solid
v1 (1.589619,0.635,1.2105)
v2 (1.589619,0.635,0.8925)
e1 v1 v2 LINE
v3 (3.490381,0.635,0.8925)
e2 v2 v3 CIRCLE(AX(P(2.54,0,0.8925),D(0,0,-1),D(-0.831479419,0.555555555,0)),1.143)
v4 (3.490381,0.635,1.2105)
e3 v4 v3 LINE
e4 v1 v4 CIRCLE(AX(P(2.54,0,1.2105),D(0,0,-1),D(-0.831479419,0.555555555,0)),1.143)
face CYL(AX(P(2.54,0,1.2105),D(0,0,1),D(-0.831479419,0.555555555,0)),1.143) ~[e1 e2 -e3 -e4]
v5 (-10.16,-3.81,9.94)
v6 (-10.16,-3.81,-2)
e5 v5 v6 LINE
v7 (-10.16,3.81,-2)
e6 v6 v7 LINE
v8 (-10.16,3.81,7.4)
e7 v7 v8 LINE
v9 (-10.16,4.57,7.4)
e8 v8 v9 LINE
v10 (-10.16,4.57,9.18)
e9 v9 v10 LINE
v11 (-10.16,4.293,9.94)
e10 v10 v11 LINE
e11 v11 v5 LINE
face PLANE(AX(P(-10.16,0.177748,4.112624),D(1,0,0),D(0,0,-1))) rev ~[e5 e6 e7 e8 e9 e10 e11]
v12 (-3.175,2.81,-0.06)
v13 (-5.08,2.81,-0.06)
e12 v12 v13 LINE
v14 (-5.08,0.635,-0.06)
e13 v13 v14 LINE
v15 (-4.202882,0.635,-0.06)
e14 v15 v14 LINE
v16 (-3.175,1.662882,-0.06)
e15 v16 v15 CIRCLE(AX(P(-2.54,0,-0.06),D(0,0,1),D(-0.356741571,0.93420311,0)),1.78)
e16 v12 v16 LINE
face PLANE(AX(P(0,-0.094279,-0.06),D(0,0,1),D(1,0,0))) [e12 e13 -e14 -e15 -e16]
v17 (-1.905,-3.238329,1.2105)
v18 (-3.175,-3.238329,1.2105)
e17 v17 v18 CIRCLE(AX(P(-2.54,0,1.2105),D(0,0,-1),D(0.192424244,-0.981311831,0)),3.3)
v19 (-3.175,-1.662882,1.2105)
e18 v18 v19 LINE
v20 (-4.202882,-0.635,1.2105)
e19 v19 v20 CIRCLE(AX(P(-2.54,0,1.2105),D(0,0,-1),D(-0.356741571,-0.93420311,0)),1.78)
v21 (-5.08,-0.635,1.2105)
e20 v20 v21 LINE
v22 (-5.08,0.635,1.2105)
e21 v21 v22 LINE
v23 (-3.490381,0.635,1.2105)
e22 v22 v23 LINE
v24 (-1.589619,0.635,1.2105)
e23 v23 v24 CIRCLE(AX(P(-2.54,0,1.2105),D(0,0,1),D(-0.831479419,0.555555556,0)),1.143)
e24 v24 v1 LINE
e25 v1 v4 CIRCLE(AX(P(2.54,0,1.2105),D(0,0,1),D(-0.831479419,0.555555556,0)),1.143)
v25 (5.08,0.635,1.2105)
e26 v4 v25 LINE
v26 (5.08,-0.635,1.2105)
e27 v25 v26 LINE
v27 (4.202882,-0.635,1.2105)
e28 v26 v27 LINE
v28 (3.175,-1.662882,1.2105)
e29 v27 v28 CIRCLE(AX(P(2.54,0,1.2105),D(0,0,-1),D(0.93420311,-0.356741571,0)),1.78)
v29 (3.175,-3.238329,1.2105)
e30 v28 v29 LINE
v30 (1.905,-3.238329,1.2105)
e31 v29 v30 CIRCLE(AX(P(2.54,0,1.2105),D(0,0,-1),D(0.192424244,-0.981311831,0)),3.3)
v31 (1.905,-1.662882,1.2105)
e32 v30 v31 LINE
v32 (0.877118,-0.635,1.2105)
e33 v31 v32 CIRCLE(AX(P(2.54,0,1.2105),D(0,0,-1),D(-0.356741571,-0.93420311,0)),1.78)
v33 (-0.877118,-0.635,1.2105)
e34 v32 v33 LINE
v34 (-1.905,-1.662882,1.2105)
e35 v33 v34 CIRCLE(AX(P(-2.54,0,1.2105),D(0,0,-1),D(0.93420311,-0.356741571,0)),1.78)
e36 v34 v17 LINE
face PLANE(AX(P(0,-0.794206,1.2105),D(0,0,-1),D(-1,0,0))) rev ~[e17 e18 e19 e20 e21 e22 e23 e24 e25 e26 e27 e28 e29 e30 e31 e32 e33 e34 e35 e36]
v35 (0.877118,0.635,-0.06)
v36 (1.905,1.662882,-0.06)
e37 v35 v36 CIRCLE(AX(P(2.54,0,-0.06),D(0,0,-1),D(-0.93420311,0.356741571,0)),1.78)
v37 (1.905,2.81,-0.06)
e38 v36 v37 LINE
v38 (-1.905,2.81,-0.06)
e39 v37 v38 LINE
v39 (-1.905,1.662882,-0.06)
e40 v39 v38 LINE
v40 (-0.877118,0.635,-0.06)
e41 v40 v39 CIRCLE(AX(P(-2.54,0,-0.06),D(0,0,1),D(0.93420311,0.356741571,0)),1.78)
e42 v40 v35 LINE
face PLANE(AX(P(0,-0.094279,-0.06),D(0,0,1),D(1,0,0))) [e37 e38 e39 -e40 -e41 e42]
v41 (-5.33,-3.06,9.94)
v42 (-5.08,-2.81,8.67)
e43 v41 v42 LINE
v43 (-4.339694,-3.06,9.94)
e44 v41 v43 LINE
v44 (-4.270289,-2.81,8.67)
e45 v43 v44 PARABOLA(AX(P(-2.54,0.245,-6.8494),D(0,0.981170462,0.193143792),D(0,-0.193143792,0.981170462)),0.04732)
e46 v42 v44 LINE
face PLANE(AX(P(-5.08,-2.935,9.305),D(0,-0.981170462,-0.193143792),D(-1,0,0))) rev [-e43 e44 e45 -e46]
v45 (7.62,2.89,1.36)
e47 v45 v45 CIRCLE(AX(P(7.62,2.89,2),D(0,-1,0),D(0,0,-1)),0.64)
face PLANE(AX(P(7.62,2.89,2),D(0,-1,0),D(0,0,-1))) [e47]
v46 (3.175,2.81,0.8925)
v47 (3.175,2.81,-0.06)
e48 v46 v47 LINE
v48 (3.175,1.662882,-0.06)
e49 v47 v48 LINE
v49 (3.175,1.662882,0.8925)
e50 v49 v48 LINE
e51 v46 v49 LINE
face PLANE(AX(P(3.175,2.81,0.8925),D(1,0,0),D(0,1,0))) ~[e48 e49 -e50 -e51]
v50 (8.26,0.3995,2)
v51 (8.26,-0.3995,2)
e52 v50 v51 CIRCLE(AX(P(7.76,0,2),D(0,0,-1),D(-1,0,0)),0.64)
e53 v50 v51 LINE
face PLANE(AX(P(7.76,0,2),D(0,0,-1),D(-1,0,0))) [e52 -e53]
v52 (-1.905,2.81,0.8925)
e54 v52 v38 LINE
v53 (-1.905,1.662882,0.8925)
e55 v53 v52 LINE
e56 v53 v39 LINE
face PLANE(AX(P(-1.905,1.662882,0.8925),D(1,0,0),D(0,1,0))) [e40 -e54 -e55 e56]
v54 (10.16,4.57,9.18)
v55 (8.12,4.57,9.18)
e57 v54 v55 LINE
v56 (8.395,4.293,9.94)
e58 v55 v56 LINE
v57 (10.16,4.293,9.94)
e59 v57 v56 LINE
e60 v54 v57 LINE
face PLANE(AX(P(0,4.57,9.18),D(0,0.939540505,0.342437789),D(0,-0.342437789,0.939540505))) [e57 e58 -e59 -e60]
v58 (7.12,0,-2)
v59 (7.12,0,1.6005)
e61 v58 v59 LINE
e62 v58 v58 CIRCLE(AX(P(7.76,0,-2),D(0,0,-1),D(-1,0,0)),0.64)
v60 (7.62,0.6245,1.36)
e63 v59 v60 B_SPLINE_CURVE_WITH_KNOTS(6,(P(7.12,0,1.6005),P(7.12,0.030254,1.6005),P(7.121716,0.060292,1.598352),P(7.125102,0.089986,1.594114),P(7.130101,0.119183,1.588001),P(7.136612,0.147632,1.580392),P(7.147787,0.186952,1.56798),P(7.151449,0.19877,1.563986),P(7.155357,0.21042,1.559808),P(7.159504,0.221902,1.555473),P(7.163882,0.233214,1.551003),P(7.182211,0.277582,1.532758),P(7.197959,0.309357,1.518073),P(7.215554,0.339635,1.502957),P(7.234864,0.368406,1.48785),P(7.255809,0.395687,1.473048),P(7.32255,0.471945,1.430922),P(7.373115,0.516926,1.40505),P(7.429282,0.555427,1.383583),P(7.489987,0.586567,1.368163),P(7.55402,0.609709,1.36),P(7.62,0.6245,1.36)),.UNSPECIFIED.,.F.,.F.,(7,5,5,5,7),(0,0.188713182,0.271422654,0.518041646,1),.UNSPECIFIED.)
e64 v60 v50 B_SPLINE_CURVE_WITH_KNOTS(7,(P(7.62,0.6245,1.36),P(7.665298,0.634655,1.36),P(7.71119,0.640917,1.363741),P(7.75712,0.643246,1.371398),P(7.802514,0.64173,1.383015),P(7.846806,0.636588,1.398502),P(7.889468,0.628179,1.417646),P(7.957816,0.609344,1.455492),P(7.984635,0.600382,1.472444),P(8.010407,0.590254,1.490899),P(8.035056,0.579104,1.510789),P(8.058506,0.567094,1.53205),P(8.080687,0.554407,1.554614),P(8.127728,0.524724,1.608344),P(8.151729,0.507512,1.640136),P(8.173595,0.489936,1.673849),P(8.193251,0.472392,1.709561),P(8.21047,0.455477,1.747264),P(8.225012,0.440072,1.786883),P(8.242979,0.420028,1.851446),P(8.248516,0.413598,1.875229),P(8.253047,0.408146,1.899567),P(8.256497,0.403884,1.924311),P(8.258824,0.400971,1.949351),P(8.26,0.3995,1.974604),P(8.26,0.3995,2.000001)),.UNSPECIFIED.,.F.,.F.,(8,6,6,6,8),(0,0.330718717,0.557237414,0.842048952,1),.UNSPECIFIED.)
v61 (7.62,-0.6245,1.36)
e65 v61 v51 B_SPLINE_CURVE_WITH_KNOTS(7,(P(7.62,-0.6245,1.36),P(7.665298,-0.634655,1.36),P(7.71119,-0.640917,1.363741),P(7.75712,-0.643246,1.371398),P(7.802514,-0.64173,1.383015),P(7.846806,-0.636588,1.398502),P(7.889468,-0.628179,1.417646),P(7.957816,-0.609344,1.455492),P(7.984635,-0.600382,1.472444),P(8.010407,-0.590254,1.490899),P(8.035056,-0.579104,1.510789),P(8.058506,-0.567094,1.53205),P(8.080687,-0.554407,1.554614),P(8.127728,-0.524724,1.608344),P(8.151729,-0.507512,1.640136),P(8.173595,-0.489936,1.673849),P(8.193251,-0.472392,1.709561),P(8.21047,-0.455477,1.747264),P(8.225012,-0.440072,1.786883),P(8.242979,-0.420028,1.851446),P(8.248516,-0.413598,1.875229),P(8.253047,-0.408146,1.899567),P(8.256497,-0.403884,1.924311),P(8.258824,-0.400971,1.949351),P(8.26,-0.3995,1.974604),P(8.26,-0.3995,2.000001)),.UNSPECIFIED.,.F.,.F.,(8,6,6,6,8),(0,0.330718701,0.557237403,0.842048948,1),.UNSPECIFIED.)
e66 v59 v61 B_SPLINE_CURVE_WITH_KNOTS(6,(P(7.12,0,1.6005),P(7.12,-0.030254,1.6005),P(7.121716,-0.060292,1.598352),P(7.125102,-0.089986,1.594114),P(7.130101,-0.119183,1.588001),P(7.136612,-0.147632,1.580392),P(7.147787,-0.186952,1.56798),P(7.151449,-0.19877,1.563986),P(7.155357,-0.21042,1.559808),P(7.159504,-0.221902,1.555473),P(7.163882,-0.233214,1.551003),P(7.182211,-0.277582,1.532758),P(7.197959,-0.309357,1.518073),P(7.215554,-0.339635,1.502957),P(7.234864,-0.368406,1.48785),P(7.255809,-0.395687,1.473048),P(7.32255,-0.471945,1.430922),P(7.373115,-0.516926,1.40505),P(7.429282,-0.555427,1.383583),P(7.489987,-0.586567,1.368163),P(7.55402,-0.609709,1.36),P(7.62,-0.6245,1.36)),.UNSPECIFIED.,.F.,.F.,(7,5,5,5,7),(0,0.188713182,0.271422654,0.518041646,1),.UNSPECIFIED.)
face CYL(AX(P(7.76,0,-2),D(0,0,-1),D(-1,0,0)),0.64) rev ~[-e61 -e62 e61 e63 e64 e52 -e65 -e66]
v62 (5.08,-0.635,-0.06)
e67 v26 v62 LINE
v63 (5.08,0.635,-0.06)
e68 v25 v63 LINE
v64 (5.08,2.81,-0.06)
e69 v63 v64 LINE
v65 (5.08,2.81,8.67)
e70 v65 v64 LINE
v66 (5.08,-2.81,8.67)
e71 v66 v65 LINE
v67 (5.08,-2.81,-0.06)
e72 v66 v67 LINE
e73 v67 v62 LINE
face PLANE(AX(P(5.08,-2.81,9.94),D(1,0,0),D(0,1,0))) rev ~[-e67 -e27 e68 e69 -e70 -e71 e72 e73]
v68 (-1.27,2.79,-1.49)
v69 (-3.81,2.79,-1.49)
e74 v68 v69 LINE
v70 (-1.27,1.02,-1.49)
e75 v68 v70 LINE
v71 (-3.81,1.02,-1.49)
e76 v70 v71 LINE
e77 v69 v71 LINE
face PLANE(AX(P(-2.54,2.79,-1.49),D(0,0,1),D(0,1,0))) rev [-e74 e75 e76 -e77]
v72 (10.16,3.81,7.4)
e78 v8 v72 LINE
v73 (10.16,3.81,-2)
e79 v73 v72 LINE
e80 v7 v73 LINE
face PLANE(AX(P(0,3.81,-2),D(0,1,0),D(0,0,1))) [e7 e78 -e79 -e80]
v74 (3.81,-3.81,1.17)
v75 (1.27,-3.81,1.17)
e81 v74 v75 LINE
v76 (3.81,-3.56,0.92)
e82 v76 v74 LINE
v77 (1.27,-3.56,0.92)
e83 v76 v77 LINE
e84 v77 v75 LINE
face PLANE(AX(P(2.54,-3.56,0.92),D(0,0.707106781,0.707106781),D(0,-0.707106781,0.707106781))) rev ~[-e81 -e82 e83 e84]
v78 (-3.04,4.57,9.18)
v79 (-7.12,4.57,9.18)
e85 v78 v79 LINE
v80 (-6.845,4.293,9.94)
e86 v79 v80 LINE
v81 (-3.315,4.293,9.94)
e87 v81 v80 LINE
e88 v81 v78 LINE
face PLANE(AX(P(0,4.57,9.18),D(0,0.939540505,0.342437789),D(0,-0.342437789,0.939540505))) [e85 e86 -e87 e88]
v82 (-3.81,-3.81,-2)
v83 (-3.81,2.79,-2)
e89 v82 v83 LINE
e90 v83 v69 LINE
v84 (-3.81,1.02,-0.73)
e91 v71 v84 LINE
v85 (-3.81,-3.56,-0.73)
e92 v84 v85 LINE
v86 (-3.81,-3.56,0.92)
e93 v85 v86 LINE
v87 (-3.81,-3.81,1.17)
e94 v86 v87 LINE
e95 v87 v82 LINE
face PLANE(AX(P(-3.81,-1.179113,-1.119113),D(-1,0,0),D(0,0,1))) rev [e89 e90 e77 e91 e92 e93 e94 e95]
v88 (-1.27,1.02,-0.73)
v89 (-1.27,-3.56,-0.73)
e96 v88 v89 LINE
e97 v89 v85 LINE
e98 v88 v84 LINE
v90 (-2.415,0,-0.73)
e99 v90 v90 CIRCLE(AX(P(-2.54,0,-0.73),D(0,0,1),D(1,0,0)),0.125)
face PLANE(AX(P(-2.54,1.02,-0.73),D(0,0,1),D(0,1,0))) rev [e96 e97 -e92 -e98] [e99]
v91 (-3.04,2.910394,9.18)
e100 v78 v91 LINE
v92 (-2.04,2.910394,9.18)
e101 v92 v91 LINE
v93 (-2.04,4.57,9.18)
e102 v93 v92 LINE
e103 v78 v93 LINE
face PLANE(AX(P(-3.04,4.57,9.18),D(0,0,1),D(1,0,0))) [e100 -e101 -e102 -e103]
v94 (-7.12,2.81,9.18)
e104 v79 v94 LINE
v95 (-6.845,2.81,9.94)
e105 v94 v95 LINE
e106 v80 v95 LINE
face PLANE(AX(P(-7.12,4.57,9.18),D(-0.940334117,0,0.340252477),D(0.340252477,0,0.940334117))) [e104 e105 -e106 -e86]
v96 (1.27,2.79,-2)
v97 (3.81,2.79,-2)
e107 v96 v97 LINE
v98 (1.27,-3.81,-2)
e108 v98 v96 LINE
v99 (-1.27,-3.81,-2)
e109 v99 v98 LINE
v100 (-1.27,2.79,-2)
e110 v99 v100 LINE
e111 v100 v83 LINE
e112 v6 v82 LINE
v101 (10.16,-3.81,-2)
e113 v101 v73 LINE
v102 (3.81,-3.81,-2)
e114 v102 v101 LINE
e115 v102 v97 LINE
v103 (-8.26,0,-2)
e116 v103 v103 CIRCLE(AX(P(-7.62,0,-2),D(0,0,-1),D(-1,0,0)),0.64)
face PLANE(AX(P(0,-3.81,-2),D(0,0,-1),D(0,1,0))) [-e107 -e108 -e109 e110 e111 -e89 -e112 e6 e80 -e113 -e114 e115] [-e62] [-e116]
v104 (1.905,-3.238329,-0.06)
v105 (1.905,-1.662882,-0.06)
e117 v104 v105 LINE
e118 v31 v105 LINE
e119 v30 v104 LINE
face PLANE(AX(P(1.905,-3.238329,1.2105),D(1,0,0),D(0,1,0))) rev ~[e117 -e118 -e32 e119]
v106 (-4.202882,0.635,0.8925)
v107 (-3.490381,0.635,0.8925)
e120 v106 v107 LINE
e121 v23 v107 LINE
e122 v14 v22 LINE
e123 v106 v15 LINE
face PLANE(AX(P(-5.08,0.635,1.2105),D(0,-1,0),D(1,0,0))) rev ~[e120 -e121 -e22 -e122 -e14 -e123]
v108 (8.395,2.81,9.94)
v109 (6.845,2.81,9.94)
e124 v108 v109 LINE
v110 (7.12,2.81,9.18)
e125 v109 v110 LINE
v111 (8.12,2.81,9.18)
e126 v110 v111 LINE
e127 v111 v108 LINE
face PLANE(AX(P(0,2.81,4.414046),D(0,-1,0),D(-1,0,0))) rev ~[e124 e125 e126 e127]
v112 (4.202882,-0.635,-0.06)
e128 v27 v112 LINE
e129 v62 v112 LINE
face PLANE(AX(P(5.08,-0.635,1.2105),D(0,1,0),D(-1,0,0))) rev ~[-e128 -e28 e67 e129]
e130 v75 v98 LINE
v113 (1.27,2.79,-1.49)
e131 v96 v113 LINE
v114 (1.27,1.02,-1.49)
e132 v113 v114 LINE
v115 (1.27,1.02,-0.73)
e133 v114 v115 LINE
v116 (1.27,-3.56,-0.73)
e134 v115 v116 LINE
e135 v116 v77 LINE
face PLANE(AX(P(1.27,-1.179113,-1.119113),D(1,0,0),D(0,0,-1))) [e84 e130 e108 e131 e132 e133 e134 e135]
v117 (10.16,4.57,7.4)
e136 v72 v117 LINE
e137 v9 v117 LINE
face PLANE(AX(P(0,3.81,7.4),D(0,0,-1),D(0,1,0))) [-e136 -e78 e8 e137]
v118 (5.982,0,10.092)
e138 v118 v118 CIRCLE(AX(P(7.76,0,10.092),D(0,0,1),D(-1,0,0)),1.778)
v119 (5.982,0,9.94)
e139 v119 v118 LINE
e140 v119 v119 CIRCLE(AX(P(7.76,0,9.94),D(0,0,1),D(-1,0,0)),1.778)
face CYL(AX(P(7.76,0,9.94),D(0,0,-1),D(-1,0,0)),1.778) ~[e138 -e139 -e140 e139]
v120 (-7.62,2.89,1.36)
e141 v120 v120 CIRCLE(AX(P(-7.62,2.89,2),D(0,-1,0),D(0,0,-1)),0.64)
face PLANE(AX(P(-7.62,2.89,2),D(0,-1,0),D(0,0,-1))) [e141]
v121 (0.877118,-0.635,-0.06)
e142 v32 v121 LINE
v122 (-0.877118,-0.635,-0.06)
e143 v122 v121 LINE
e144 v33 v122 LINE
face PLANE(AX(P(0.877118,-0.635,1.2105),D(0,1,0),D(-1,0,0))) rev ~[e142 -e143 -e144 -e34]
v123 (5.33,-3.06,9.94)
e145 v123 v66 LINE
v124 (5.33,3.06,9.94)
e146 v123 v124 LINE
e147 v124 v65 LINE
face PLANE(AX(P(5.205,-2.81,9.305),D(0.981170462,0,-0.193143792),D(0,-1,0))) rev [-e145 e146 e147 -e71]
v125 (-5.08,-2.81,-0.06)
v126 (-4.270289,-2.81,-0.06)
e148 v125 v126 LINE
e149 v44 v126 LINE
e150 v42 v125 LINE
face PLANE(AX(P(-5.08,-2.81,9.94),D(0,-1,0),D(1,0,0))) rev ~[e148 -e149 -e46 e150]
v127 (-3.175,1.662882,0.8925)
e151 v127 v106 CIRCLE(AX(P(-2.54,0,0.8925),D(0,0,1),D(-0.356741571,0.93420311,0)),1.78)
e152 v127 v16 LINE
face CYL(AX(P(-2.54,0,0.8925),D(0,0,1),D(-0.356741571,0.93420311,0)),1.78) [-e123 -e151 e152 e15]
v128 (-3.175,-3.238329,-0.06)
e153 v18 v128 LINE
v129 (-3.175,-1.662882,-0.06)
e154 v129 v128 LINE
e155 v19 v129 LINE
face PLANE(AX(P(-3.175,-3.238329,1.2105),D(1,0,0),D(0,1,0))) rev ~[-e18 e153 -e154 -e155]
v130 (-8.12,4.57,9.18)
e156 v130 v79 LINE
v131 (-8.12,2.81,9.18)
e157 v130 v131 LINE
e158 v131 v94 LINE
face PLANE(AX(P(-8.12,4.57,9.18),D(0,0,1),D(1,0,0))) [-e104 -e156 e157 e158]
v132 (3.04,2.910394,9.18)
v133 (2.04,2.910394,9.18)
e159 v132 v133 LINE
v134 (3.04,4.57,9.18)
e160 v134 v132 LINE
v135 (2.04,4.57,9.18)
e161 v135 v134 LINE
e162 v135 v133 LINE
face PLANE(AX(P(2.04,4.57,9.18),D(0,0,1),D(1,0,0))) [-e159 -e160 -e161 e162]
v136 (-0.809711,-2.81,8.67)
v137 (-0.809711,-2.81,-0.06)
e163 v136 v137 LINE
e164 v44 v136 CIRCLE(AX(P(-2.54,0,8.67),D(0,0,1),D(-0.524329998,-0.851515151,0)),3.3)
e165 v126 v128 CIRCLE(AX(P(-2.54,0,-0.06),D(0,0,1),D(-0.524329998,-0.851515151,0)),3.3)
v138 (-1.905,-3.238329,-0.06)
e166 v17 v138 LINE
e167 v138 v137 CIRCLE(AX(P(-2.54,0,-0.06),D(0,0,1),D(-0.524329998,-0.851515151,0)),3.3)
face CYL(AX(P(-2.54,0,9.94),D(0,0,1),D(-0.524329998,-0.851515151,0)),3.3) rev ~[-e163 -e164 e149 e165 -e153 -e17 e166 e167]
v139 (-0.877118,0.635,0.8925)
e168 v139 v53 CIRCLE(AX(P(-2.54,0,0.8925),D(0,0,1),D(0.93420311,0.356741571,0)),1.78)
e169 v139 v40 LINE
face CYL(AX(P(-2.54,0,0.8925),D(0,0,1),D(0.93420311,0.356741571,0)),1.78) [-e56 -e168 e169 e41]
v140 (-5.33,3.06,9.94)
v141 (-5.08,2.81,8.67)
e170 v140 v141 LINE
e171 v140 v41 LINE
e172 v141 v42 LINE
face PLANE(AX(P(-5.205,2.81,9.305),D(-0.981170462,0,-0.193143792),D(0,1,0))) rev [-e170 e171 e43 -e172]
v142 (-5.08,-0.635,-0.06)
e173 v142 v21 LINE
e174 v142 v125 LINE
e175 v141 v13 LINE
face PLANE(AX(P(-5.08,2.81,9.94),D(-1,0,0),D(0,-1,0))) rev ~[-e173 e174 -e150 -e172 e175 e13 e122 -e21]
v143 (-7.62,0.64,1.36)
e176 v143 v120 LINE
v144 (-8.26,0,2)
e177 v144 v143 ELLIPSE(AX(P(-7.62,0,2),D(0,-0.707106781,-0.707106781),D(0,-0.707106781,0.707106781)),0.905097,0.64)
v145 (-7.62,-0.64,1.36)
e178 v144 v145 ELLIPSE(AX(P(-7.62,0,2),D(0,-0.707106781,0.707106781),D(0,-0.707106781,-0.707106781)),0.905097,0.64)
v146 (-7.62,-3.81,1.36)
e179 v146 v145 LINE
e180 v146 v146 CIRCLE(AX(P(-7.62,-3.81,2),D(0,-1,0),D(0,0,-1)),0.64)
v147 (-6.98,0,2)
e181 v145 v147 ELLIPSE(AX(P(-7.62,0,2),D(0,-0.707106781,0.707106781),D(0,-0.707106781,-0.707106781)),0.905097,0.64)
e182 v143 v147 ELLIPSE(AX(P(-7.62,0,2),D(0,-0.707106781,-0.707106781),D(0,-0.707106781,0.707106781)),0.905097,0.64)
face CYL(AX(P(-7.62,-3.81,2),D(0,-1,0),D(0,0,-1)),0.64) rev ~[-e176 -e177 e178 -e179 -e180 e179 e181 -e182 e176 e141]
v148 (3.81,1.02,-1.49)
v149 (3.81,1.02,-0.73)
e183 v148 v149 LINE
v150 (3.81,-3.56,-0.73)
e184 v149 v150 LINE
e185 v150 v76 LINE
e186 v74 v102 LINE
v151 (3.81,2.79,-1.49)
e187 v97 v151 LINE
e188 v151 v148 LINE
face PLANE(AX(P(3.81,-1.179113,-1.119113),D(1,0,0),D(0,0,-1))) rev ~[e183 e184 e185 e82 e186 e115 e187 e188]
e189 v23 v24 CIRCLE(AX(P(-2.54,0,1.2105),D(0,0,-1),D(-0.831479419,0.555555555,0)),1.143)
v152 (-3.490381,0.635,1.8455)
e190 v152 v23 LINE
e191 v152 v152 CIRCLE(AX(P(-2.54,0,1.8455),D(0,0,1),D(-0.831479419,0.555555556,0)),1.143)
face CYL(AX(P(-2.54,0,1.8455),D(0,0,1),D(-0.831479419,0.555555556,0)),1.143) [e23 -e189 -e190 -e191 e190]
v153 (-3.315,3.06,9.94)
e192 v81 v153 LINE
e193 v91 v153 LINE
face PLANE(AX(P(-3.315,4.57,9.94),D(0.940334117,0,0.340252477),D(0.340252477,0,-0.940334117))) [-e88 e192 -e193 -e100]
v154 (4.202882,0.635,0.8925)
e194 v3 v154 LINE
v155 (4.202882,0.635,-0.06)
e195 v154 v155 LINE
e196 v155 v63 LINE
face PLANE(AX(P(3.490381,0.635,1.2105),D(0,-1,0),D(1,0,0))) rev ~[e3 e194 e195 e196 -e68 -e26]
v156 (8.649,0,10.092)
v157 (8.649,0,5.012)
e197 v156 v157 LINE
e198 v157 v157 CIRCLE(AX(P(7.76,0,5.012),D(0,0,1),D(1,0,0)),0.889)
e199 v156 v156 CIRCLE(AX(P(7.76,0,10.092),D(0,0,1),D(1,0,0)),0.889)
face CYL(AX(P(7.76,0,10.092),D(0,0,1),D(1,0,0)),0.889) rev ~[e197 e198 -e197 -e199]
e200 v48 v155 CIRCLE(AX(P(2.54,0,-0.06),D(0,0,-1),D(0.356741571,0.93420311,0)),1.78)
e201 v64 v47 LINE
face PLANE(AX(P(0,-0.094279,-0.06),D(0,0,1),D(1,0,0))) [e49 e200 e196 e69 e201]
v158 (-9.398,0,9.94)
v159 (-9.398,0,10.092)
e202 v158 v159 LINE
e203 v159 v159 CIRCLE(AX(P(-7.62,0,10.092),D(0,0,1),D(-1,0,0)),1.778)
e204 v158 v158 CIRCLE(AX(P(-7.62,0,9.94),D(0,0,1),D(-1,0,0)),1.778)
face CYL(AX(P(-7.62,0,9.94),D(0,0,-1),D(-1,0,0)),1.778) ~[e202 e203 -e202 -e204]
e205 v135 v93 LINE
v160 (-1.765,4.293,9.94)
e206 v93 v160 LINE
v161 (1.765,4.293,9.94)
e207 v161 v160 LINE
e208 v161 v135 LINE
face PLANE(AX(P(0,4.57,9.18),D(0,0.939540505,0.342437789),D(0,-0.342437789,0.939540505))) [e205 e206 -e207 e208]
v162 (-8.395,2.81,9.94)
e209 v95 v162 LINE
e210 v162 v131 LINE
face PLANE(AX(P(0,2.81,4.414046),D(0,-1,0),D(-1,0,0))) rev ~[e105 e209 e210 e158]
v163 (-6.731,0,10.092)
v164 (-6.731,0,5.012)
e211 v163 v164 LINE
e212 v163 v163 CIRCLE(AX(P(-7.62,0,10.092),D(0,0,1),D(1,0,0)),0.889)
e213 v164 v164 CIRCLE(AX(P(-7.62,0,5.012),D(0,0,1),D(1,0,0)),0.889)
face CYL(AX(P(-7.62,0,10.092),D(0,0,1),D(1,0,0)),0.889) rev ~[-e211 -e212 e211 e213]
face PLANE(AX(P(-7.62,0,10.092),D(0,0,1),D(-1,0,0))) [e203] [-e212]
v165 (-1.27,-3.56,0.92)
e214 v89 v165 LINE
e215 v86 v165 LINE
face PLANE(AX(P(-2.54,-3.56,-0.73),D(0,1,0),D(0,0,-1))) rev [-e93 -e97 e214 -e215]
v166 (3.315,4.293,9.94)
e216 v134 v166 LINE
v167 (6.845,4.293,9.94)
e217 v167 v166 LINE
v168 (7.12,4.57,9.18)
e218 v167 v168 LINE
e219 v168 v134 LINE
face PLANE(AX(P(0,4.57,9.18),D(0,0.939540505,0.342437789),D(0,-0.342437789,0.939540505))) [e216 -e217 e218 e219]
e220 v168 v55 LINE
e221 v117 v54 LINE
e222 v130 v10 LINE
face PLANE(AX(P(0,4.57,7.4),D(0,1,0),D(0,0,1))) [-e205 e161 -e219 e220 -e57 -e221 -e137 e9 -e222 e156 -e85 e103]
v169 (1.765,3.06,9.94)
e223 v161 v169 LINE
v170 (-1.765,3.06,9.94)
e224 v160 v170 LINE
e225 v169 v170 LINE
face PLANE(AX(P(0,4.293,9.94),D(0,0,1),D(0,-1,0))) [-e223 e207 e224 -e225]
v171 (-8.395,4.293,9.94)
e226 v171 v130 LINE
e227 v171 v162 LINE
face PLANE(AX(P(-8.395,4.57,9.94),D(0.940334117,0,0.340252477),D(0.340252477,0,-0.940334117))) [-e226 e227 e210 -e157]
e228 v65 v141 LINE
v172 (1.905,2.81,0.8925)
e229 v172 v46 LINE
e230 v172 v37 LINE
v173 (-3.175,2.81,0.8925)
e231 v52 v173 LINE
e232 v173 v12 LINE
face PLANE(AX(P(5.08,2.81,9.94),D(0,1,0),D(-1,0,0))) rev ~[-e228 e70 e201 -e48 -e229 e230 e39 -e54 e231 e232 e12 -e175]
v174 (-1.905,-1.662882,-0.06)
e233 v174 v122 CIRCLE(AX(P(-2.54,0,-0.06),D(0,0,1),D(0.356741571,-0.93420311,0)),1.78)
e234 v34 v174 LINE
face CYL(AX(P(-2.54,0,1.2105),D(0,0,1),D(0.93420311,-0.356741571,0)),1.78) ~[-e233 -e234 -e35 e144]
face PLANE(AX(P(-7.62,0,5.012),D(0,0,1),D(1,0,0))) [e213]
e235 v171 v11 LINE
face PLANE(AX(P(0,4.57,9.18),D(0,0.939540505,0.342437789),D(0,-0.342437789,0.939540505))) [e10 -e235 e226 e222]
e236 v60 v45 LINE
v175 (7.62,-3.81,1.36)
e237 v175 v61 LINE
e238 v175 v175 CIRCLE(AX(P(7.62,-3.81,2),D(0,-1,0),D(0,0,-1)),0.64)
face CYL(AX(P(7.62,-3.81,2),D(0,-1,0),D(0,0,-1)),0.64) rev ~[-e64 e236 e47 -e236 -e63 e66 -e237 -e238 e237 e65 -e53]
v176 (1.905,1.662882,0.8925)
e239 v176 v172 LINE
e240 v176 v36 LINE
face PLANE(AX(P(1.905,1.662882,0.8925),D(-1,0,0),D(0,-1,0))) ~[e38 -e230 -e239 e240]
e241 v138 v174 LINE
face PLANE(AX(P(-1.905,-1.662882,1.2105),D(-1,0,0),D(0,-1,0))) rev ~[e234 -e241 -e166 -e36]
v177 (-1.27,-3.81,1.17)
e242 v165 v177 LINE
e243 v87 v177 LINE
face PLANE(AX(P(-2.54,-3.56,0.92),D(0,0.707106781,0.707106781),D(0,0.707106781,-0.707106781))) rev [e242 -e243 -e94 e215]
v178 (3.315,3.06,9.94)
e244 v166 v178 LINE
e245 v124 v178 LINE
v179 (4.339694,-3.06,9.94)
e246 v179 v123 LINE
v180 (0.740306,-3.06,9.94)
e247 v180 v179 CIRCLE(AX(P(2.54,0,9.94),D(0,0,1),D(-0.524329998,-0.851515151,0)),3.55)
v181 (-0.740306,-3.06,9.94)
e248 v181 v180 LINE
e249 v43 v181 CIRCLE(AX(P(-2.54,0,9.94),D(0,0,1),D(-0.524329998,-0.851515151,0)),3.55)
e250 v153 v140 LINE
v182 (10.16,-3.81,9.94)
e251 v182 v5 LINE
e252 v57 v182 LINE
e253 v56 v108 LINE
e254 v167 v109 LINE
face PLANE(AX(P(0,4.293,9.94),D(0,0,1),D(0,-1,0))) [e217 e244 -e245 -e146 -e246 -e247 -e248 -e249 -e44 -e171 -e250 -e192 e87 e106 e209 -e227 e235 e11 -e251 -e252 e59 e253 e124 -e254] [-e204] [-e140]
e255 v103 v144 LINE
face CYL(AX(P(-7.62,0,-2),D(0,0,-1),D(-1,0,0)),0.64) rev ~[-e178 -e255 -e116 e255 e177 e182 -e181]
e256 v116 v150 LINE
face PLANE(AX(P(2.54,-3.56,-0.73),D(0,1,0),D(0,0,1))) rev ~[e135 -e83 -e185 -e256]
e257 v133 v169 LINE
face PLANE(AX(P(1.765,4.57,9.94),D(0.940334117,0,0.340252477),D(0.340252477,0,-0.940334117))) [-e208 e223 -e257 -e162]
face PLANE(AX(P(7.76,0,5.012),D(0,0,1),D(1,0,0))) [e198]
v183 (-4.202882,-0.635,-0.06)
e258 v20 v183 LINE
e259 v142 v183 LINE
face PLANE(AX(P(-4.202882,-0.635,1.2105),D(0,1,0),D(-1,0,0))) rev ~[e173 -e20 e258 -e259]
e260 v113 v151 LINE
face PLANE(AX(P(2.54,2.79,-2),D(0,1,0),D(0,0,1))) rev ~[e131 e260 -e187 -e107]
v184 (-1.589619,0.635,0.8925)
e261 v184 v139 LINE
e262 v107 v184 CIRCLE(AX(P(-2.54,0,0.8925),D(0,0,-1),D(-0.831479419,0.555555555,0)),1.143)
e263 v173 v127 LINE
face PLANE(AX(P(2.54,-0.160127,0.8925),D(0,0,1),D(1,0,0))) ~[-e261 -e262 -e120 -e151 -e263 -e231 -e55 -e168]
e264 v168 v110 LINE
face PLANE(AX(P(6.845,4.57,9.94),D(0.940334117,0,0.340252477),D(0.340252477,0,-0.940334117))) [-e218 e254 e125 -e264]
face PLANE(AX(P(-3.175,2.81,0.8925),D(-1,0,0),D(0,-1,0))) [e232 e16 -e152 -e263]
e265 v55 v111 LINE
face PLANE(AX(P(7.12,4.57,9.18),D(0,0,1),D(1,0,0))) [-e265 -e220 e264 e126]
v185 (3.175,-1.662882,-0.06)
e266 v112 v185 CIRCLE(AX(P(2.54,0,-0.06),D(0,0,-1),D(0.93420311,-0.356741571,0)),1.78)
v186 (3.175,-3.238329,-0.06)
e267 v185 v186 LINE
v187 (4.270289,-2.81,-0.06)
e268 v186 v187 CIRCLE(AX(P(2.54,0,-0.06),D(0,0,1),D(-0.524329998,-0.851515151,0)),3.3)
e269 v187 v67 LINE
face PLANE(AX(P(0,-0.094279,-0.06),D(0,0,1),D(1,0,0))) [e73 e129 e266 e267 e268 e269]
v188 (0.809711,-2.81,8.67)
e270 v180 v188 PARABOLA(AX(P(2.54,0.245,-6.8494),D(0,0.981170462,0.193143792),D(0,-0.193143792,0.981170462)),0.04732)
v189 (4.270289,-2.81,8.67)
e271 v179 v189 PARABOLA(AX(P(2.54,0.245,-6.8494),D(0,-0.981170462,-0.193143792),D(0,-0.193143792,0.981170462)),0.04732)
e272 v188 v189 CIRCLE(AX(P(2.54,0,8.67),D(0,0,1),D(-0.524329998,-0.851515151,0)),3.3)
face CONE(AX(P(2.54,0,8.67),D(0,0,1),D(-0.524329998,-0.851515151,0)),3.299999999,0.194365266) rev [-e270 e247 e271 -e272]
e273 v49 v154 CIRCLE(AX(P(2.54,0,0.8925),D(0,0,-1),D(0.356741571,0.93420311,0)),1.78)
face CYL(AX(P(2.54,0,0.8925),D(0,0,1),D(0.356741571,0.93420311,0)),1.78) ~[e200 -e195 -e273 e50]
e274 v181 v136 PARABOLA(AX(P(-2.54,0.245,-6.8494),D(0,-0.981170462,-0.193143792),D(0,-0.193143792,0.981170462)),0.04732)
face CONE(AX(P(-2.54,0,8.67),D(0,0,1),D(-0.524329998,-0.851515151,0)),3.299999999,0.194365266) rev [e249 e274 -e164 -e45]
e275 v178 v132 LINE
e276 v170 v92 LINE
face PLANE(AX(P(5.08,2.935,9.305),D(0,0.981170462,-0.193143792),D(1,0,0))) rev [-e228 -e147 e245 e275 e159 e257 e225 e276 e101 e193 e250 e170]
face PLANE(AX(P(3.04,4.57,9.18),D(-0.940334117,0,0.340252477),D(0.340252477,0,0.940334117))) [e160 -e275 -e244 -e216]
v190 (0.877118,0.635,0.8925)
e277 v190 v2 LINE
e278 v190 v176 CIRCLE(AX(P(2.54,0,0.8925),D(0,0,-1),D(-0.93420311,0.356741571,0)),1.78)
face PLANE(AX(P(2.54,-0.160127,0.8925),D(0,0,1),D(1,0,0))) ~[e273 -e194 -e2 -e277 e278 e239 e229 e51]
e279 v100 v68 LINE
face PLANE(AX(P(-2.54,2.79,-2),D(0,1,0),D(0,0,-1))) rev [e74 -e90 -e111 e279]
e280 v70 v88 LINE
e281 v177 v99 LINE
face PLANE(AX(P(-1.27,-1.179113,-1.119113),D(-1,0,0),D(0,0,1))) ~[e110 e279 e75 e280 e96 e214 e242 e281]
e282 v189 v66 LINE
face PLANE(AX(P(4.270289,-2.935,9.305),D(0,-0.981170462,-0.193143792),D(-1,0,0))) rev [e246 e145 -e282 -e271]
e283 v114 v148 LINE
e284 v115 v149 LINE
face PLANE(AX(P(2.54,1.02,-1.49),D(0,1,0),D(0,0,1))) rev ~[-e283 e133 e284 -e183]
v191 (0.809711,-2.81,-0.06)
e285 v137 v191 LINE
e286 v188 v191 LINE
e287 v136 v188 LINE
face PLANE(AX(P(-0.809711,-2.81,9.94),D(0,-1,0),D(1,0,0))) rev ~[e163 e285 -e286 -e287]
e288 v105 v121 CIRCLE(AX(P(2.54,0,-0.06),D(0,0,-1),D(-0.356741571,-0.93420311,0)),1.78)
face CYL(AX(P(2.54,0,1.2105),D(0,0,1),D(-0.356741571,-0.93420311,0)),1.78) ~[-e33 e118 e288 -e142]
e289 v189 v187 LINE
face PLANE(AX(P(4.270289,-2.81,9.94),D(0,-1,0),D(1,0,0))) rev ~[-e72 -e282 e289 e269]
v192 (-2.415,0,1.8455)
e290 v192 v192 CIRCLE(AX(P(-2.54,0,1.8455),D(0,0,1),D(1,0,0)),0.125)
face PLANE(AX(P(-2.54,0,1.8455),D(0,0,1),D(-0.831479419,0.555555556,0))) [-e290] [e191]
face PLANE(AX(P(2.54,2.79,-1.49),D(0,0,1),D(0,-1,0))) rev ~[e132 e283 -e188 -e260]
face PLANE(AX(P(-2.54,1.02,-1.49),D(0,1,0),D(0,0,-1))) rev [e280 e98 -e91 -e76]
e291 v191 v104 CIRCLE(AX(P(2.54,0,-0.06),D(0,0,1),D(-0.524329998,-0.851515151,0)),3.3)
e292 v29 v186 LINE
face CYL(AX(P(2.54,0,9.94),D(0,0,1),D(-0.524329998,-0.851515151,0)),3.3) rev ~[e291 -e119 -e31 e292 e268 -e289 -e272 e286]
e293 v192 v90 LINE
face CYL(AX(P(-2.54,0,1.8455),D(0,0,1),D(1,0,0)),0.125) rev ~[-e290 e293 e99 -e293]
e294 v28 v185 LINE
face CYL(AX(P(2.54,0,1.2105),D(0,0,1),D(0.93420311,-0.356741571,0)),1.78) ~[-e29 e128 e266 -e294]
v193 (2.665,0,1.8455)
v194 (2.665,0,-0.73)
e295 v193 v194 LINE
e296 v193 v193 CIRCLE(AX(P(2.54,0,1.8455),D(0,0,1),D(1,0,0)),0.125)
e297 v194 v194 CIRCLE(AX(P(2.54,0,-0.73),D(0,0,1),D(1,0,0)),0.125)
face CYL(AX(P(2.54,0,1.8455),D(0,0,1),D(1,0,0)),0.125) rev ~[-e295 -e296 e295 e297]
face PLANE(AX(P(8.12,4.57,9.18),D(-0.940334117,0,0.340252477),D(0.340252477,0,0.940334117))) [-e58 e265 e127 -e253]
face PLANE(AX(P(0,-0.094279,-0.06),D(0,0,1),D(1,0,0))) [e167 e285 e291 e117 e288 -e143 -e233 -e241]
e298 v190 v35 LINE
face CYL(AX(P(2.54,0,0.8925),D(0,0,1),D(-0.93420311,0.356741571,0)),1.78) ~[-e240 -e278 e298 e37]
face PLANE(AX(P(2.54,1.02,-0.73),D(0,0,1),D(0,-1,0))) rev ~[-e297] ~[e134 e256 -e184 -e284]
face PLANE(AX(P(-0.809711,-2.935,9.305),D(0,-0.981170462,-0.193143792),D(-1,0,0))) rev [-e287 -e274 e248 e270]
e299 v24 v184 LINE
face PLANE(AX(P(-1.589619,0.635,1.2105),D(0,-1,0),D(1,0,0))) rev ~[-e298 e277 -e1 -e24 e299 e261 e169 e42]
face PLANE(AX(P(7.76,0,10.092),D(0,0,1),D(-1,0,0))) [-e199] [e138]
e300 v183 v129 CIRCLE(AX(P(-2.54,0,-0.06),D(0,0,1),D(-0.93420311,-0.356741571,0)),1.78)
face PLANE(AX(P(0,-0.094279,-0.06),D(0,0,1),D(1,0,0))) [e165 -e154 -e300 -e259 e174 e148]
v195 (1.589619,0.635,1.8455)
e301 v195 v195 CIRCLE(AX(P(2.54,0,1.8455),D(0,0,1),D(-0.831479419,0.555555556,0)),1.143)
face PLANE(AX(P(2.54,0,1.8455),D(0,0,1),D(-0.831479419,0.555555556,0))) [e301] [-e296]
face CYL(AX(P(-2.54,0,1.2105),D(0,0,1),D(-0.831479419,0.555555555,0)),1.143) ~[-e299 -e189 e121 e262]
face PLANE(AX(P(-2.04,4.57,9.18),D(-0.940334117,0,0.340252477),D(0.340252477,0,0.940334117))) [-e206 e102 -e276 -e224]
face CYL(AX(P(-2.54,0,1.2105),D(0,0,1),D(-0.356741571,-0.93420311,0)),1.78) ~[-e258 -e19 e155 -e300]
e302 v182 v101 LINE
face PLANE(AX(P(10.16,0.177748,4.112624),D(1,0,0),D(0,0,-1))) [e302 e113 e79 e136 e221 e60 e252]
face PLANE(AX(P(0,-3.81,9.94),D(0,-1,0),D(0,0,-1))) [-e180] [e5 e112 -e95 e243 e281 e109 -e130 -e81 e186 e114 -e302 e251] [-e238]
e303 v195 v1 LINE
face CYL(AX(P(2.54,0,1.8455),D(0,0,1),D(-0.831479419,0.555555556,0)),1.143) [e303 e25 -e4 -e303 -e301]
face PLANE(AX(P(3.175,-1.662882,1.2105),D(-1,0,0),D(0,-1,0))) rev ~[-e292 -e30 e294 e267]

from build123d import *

# Parameters (mm, degrees)
BOSS_EXTRUDE1_DEPTH = 10.16
CUT_EXTRUDE1_DEPTH  = 10
CHAMFER1_SIZE       = 0.25
CHAMFER1_SIZE2      = 1.27
SKETCH3_R           = 1.778
BOSS_EXTRUDE2_DEPTH = 0.152
SKETCH4_R           = 0.889
CUT_EXTRUDE2_DEPTH  = 5.08
BOSS_EXTRUDE3_START = 0.9525
BOSS_EXTRUDE3_DEPTH = 0.9525
BOSS_EXTRUDE4_START = 0.318
BOSS_EXTRUDE4_DEPTH = 0.318
BOSS_EXTRUDE5_START = 0.635
SKETCH9_R           = 1.143
BOSS_EXTRUDE5_DEPTH = 0.635
CUT_EXTRUDE3_REACH  = 18.592
SKETCH11_R          = 0.64
CUT_EXTRUDE4_DEPTH  = 6.7
SKETCH12_R          = 0.64
CUT_EXTRUDE6_DEPTH  = 4
CUT_EXTRUDE7_DEPTH  = 1.27
SKETCH15_R          = 0.125
CUT_EXTRUDE8_DEPTH  = 14.860565005


with BuildPart() as part:
    # Sketch1 → Boss-Extrude1 (new, symmetric)
    with BuildSketch(Plane(origin=(0, 0, 0), x_dir=(0, 0, -1), z_dir=(1, 0, 0))):
        Polygon((-9.94, -3.81), (2, -3.81), (2, 3.81), (-7.4, 3.81), (-7.4, 4.57), (-9.18, 4.57), (-9.94, 4.293), align=None)
    extrude(amount=BOSS_EXTRUDE1_DEPTH, both=True)

    # Sketch2 → Cut-Extrude1 (cut)
    with BuildSketch(Plane.XY.offset(9.94)):
        with BuildLine():
            Line((-0.809711007, -2.81), (0.809711007, -2.81))
            ThreePointArc((0.809711007, -2.81), (2.54, -3.3), (4.270288993, -2.81))
            Line((4.270288993, -2.81), (5.08, -2.81))
            Line((5.08, -2.81), (5.08, 2.81))
            Line((5.08, 2.81), (-5.08, 2.81))
            Line((-5.08, 2.81), (-5.08, -2.81))
            Line((-5.08, -2.81), (-4.270288993, -2.81))
            ThreePointArc((-4.270288993, -2.81), (-2.54, -3.3), (-0.809711007, -2.81))
        make_face()
    extrude(amount=-CUT_EXTRUDE1_DEPTH, mode=Mode.SUBTRACT)

    # Chamfer1
    chamfer1_edges = [part.edges().sort_by_distance(p)[0] for p in [
        (-5.08, 0, 9.94),
        (-4.675144497, -2.81, 9.94),
        (-2.54, -3.3, 9.94),
        (0, -2.81, 9.94),
        (2.54, -3.3, 9.94),
        (4.675144497, -2.81, 9.94),
        (5.08, 0, 9.94),
        (0, 2.81, 9.94),
    ]]
    chamfer1_side = [part.faces().sort_by_distance(p)[0] for p in [
        (-9.941239627, 0.2415, 9.94),
    ]]
    chamfer(chamfer1_edges, length=CHAMFER1_SIZE, length2=CHAMFER1_SIZE2, reference=chamfer1_side[0])

    # Sketch3 → Boss-Extrude2 (add)
    with BuildSketch(Plane.XY.offset(9.94)):
        with Locations(Location((-7.62, 0, 0), (0, 0, 180))):
            Circle(SKETCH3_R)
        with Locations(Location((7.76, 0, 0), (0, 0, 180))):
            Circle(SKETCH3_R)
    extrude(amount=BOSS_EXTRUDE2_DEPTH)

    # Sketch4 → Cut-Extrude2 (cut)
    with BuildSketch(Plane.XY.offset(10.092)):
        with Locations((-7.62, 0)):
            Circle(SKETCH4_R)
        with Locations((7.76, 0)):
            Circle(SKETCH4_R)
    extrude(amount=-CUT_EXTRUDE2_DEPTH, mode=Mode.SUBTRACT)

    # Sketch5 → Boss-Extrude3 (add)
    with BuildSketch(Plane.XY.offset(-0.06).offset(BOSS_EXTRUDE3_START)):
        with BuildLine():
            Line((-3.175, 2.81), (-3.175, 1.662881535))
            ThreePointArc((-3.175, 1.662881535), (-3.798650071, 1.258650071), (-4.202881535, 0.635))
            Line((-4.202881535, 0.635), (-5.08, 0.635))
            Line((-5.08, 0.635), (-5.08, -0.635))
            Line((-5.08, -0.635), (-4.202881535, -0.635))
            ThreePointArc((-4.202881535, -0.635), (-3.798650071, -1.258650071), (-3.175, -1.662881535))
            Line((-3.175, -1.662881535), (-3.175, -3.238329044))
            ThreePointArc((-3.175, -3.238329044), (-2.54, -3.3), (-1.905, -3.238329044))
            Line((-1.905, -3.238329044), (-1.905, -1.662881535))
            ThreePointArc((-1.905, -1.662881535), (-1.281349929, -1.258650071), (-0.877118465, -0.635))
            Line((-0.877118465, -0.635), (0, -0.635))
            Line((0, -0.635), (0, 0.635))
            Line((0, 0.635), (-0.877118465, 0.635))
            ThreePointArc((-0.877118465, 0.635), (-1.281349929, 1.258650071), (-1.905, 1.662881535))
            Line((-1.905, 1.662881535), (-1.905, 2.81))
            Line((-1.905, 2.81), (-3.175, 2.81))
        make_face()
    boss_extrude3 = extrude(amount=-BOSS_EXTRUDE3_DEPTH)

    # Mirror1: Boss-Extrude3 across plane
    add(boss_extrude3.mirror(Plane(origin=(0, 0, 0), x_dir=(0, 0, 1), z_dir=(1, 0, 0))))

    # Sketch8 → Boss-Extrude4 (add)
    with BuildSketch(Plane.XY.offset(0.8925).offset(BOSS_EXTRUDE4_START)):
        with BuildLine():
            Line((-4.202881535, 0.635), (-3.490380976, 0.635))
            ThreePointArc((-3.490380976, 0.635), (-2.54, 1.143), (-1.589619024, 0.635))
            Line((-1.589619024, 0.635), (-0.877118465, 0.635))
            Line((-0.877118465, 0.635), (0.877118465, 0.635))
            Line((0.877118465, 0.635), (1.589619024, 0.635))
            ThreePointArc((1.589619024, 0.635), (2.54, 1.143), (3.490380976, 0.635))
            Line((3.490380976, 0.635), (4.202881535, 0.635))
            Line((4.202881535, 0.635), (5.08, 0.635))
            Line((5.08, 0.635), (5.08, -0.635))
            Line((5.08, -0.635), (4.202881535, -0.635))
            ThreePointArc((4.202881535, -0.635), (3.798650071, -1.258650071), (3.175, -1.662881535))
            Line((3.175, -1.662881535), (3.175, -3.238329044))
            ThreePointArc((3.175, -3.238329044), (2.54, -3.3), (1.905, -3.238329044))
            Line((1.905, -3.238329044), (1.905, -1.662881535))
            ThreePointArc((1.905, -1.662881535), (1.281349929, -1.258650071), (0.877118465, -0.635))
            Line((0.877118465, -0.635), (-0.877118465, -0.635))
            ThreePointArc((-0.877118465, -0.635), (-1.281349929, -1.258650071), (-1.905, -1.662881535))
            Line((-1.905, -1.662881535), (-1.905, -3.238329044))
            ThreePointArc((-1.905, -3.238329044), (-2.54, -3.3), (-3.175, -3.238329044))
            Line((-3.175, -3.238329044), (-3.175, -1.662881535))
            ThreePointArc((-3.175, -1.662881535), (-3.798650071, -1.258650071), (-4.202881535, -0.635))
            Line((-4.202881535, -0.635), (-5.08, -0.635))
            Line((-5.08, -0.635), (-5.08, 0.635))
            Line((-5.08, 0.635), (-4.202881535, 0.635))
        make_face()
    extrude(amount=-BOSS_EXTRUDE4_DEPTH)

    # Sketch9 → Boss-Extrude5 (add)
    with BuildSketch(Plane.XY.offset(1.2105).offset(BOSS_EXTRUDE5_START)):
        with Locations(Location((-2.54, 0, 0), (0, 0, 146.251011404))):
            Circle(SKETCH9_R)
        with Locations(Location((2.54, 0, 0), (0, 0, 146.251011404))):
            Circle(SKETCH9_R)
    extrude(amount=-BOSS_EXTRUDE5_DEPTH)

    # Cut-Extrude3: up to this face of the body (flat: up to its plane)
    cut_extrude3_end = Plane(part.part.faces().sort_by_distance((0, 2.81, 4.414046423))[0])
    # Sketch10 → Cut-Extrude3 (cut, up to the picked face)
    with BuildSketch(Plane(origin=(0, 4.57, 0), x_dir=(1, 0, 0), z_dir=(0, 1, 0)), mode=Mode.PRIVATE) as cut_extrude3_sk1:
        Polygon((-2.04, -9.18), (-1.765, -9.94), (-3.315, -9.94), (-3.04, -9.18), align=None)
    cut_extrude3_tool1 = split(extrude(cut_extrude3_sk1.sketch, amount=-CUT_EXTRUDE3_REACH, mode=Mode.PRIVATE), bisect_by=cut_extrude3_end, keep=Keep.BOTH, mode=Mode.PRIVATE)
    # Sketch10 → Cut-Extrude3 (cut, up to the picked face)
    with BuildSketch(Plane(origin=(0, 4.57, 0), x_dir=(1, 0, 0), z_dir=(0, 1, 0)), mode=Mode.PRIVATE) as cut_extrude3_sk2:
        Polygon((-8.395, -9.94), (-8.12, -9.18), (-7.12, -9.18), (-6.845, -9.94), align=None)
    cut_extrude3_tool2 = split(extrude(cut_extrude3_sk2.sketch, amount=-CUT_EXTRUDE3_REACH, mode=Mode.PRIVATE), bisect_by=cut_extrude3_end, keep=Keep.BOTH, mode=Mode.PRIVATE)
    # Sketch10 → Cut-Extrude3 (cut, up to the picked face)
    with BuildSketch(Plane(origin=(0, 4.57, 0), x_dir=(1, 0, 0), z_dir=(0, 1, 0)), mode=Mode.PRIVATE) as cut_extrude3_sk3:
        Polygon((3.04, -9.18), (3.315, -9.94), (1.765, -9.94), (2.04, -9.18), align=None)
    cut_extrude3_tool3 = split(extrude(cut_extrude3_sk3.sketch, amount=-CUT_EXTRUDE3_REACH, mode=Mode.PRIVATE), bisect_by=cut_extrude3_end, keep=Keep.BOTH, mode=Mode.PRIVATE)
    # Sketch10 → Cut-Extrude3 (cut, up to the picked face)
    with BuildSketch(Plane(origin=(0, 4.57, 0), x_dir=(1, 0, 0), z_dir=(0, 1, 0)), mode=Mode.PRIVATE) as cut_extrude3_sk4:
        Polygon((8.12, -9.18), (8.395, -9.94), (6.845, -9.94), (7.12, -9.18), align=None)
    cut_extrude3_tool4 = split(extrude(cut_extrude3_sk4.sketch, amount=-CUT_EXTRUDE3_REACH, mode=Mode.PRIVATE), bisect_by=cut_extrude3_end, keep=Keep.BOTH, mode=Mode.PRIVATE)
    add(cut_extrude3_tool1.solids().sort_by(Axis((-2.54, 4.57, 9.58732), (0, -1, 0)))[0], mode=Mode.SUBTRACT)
    add(cut_extrude3_tool2.solids().sort_by(Axis((-7.62, 4.57, 9.58732), (0, -1, 0)))[0], mode=Mode.SUBTRACT)
    add(cut_extrude3_tool3.solids().sort_by(Axis((2.54, 4.57, 9.58732), (0, -1, 0)))[0], mode=Mode.SUBTRACT)
    add(cut_extrude3_tool4.solids().sort_by(Axis((7.62, 4.57, 9.58732), (0, -1, 0)))[0], mode=Mode.SUBTRACT)

    # Sketch11 → Cut-Extrude4 (cut)
    with BuildSketch(Plane.XZ.offset(3.81)):
        with Locations(Location((-7.62, 2, 0), (0, 0, 270))):
            Circle(SKETCH11_R)
        with Locations(Location((7.62, 2, 0), (0, 0, 270))):
            Circle(SKETCH11_R)
    extrude(amount=-CUT_EXTRUDE4_DEPTH, mode=Mode.SUBTRACT)

    # Sketch12 → Cut-Extrude6 (cut)
    with BuildSketch(Plane(origin=(0, 0, -2), x_dir=(-1, 0, 0), z_dir=(0, 0, -1))):
        with Locations((-7.76, 0)):
            Circle(SKETCH12_R)
        with Locations((7.62, 0)):
            Circle(SKETCH12_R)
    extrude(amount=-CUT_EXTRUDE6_DEPTH, mode=Mode.SUBTRACT)

    # Sketch13 → Cut-Extrude7 (cut, symmetric)
    with BuildSketch(Plane(origin=(2.54, 0, 0), x_dir=(0, 0, -1), z_dir=(1, 0, 0))):
        Polygon((2, -3.81), (2, 2.79), (1.49, 2.79), (1.49, 1.02), (0.73, 1.02), (0.73, -3.56), (-0.92, -3.56), (-1.17, -3.81), align=None)
    cut_extrude7 = extrude(amount=CUT_EXTRUDE7_DEPTH, both=True, mode=Mode.SUBTRACT)

    # Mirror2: Cut-Extrude7 across plane
    add(cut_extrude7.mirror(Plane(origin=(0, 0, 0), x_dir=(0, 0, 1), z_dir=(1, 0, 0))), mode=Mode.SUBTRACT)

    # Sketch15 → Cut-Extrude8 (cut, through all)
    with BuildSketch(Plane.XY.offset(1.8455)):
        with Locations((-2.54, 0)):
            Circle(SKETCH15_R)
        with Locations((2.54, 0)):
            Circle(SKETCH15_R)
    extrude(amount=-CUT_EXTRUDE8_DEPTH, mode=Mode.SUBTRACT)


solid = part.part
